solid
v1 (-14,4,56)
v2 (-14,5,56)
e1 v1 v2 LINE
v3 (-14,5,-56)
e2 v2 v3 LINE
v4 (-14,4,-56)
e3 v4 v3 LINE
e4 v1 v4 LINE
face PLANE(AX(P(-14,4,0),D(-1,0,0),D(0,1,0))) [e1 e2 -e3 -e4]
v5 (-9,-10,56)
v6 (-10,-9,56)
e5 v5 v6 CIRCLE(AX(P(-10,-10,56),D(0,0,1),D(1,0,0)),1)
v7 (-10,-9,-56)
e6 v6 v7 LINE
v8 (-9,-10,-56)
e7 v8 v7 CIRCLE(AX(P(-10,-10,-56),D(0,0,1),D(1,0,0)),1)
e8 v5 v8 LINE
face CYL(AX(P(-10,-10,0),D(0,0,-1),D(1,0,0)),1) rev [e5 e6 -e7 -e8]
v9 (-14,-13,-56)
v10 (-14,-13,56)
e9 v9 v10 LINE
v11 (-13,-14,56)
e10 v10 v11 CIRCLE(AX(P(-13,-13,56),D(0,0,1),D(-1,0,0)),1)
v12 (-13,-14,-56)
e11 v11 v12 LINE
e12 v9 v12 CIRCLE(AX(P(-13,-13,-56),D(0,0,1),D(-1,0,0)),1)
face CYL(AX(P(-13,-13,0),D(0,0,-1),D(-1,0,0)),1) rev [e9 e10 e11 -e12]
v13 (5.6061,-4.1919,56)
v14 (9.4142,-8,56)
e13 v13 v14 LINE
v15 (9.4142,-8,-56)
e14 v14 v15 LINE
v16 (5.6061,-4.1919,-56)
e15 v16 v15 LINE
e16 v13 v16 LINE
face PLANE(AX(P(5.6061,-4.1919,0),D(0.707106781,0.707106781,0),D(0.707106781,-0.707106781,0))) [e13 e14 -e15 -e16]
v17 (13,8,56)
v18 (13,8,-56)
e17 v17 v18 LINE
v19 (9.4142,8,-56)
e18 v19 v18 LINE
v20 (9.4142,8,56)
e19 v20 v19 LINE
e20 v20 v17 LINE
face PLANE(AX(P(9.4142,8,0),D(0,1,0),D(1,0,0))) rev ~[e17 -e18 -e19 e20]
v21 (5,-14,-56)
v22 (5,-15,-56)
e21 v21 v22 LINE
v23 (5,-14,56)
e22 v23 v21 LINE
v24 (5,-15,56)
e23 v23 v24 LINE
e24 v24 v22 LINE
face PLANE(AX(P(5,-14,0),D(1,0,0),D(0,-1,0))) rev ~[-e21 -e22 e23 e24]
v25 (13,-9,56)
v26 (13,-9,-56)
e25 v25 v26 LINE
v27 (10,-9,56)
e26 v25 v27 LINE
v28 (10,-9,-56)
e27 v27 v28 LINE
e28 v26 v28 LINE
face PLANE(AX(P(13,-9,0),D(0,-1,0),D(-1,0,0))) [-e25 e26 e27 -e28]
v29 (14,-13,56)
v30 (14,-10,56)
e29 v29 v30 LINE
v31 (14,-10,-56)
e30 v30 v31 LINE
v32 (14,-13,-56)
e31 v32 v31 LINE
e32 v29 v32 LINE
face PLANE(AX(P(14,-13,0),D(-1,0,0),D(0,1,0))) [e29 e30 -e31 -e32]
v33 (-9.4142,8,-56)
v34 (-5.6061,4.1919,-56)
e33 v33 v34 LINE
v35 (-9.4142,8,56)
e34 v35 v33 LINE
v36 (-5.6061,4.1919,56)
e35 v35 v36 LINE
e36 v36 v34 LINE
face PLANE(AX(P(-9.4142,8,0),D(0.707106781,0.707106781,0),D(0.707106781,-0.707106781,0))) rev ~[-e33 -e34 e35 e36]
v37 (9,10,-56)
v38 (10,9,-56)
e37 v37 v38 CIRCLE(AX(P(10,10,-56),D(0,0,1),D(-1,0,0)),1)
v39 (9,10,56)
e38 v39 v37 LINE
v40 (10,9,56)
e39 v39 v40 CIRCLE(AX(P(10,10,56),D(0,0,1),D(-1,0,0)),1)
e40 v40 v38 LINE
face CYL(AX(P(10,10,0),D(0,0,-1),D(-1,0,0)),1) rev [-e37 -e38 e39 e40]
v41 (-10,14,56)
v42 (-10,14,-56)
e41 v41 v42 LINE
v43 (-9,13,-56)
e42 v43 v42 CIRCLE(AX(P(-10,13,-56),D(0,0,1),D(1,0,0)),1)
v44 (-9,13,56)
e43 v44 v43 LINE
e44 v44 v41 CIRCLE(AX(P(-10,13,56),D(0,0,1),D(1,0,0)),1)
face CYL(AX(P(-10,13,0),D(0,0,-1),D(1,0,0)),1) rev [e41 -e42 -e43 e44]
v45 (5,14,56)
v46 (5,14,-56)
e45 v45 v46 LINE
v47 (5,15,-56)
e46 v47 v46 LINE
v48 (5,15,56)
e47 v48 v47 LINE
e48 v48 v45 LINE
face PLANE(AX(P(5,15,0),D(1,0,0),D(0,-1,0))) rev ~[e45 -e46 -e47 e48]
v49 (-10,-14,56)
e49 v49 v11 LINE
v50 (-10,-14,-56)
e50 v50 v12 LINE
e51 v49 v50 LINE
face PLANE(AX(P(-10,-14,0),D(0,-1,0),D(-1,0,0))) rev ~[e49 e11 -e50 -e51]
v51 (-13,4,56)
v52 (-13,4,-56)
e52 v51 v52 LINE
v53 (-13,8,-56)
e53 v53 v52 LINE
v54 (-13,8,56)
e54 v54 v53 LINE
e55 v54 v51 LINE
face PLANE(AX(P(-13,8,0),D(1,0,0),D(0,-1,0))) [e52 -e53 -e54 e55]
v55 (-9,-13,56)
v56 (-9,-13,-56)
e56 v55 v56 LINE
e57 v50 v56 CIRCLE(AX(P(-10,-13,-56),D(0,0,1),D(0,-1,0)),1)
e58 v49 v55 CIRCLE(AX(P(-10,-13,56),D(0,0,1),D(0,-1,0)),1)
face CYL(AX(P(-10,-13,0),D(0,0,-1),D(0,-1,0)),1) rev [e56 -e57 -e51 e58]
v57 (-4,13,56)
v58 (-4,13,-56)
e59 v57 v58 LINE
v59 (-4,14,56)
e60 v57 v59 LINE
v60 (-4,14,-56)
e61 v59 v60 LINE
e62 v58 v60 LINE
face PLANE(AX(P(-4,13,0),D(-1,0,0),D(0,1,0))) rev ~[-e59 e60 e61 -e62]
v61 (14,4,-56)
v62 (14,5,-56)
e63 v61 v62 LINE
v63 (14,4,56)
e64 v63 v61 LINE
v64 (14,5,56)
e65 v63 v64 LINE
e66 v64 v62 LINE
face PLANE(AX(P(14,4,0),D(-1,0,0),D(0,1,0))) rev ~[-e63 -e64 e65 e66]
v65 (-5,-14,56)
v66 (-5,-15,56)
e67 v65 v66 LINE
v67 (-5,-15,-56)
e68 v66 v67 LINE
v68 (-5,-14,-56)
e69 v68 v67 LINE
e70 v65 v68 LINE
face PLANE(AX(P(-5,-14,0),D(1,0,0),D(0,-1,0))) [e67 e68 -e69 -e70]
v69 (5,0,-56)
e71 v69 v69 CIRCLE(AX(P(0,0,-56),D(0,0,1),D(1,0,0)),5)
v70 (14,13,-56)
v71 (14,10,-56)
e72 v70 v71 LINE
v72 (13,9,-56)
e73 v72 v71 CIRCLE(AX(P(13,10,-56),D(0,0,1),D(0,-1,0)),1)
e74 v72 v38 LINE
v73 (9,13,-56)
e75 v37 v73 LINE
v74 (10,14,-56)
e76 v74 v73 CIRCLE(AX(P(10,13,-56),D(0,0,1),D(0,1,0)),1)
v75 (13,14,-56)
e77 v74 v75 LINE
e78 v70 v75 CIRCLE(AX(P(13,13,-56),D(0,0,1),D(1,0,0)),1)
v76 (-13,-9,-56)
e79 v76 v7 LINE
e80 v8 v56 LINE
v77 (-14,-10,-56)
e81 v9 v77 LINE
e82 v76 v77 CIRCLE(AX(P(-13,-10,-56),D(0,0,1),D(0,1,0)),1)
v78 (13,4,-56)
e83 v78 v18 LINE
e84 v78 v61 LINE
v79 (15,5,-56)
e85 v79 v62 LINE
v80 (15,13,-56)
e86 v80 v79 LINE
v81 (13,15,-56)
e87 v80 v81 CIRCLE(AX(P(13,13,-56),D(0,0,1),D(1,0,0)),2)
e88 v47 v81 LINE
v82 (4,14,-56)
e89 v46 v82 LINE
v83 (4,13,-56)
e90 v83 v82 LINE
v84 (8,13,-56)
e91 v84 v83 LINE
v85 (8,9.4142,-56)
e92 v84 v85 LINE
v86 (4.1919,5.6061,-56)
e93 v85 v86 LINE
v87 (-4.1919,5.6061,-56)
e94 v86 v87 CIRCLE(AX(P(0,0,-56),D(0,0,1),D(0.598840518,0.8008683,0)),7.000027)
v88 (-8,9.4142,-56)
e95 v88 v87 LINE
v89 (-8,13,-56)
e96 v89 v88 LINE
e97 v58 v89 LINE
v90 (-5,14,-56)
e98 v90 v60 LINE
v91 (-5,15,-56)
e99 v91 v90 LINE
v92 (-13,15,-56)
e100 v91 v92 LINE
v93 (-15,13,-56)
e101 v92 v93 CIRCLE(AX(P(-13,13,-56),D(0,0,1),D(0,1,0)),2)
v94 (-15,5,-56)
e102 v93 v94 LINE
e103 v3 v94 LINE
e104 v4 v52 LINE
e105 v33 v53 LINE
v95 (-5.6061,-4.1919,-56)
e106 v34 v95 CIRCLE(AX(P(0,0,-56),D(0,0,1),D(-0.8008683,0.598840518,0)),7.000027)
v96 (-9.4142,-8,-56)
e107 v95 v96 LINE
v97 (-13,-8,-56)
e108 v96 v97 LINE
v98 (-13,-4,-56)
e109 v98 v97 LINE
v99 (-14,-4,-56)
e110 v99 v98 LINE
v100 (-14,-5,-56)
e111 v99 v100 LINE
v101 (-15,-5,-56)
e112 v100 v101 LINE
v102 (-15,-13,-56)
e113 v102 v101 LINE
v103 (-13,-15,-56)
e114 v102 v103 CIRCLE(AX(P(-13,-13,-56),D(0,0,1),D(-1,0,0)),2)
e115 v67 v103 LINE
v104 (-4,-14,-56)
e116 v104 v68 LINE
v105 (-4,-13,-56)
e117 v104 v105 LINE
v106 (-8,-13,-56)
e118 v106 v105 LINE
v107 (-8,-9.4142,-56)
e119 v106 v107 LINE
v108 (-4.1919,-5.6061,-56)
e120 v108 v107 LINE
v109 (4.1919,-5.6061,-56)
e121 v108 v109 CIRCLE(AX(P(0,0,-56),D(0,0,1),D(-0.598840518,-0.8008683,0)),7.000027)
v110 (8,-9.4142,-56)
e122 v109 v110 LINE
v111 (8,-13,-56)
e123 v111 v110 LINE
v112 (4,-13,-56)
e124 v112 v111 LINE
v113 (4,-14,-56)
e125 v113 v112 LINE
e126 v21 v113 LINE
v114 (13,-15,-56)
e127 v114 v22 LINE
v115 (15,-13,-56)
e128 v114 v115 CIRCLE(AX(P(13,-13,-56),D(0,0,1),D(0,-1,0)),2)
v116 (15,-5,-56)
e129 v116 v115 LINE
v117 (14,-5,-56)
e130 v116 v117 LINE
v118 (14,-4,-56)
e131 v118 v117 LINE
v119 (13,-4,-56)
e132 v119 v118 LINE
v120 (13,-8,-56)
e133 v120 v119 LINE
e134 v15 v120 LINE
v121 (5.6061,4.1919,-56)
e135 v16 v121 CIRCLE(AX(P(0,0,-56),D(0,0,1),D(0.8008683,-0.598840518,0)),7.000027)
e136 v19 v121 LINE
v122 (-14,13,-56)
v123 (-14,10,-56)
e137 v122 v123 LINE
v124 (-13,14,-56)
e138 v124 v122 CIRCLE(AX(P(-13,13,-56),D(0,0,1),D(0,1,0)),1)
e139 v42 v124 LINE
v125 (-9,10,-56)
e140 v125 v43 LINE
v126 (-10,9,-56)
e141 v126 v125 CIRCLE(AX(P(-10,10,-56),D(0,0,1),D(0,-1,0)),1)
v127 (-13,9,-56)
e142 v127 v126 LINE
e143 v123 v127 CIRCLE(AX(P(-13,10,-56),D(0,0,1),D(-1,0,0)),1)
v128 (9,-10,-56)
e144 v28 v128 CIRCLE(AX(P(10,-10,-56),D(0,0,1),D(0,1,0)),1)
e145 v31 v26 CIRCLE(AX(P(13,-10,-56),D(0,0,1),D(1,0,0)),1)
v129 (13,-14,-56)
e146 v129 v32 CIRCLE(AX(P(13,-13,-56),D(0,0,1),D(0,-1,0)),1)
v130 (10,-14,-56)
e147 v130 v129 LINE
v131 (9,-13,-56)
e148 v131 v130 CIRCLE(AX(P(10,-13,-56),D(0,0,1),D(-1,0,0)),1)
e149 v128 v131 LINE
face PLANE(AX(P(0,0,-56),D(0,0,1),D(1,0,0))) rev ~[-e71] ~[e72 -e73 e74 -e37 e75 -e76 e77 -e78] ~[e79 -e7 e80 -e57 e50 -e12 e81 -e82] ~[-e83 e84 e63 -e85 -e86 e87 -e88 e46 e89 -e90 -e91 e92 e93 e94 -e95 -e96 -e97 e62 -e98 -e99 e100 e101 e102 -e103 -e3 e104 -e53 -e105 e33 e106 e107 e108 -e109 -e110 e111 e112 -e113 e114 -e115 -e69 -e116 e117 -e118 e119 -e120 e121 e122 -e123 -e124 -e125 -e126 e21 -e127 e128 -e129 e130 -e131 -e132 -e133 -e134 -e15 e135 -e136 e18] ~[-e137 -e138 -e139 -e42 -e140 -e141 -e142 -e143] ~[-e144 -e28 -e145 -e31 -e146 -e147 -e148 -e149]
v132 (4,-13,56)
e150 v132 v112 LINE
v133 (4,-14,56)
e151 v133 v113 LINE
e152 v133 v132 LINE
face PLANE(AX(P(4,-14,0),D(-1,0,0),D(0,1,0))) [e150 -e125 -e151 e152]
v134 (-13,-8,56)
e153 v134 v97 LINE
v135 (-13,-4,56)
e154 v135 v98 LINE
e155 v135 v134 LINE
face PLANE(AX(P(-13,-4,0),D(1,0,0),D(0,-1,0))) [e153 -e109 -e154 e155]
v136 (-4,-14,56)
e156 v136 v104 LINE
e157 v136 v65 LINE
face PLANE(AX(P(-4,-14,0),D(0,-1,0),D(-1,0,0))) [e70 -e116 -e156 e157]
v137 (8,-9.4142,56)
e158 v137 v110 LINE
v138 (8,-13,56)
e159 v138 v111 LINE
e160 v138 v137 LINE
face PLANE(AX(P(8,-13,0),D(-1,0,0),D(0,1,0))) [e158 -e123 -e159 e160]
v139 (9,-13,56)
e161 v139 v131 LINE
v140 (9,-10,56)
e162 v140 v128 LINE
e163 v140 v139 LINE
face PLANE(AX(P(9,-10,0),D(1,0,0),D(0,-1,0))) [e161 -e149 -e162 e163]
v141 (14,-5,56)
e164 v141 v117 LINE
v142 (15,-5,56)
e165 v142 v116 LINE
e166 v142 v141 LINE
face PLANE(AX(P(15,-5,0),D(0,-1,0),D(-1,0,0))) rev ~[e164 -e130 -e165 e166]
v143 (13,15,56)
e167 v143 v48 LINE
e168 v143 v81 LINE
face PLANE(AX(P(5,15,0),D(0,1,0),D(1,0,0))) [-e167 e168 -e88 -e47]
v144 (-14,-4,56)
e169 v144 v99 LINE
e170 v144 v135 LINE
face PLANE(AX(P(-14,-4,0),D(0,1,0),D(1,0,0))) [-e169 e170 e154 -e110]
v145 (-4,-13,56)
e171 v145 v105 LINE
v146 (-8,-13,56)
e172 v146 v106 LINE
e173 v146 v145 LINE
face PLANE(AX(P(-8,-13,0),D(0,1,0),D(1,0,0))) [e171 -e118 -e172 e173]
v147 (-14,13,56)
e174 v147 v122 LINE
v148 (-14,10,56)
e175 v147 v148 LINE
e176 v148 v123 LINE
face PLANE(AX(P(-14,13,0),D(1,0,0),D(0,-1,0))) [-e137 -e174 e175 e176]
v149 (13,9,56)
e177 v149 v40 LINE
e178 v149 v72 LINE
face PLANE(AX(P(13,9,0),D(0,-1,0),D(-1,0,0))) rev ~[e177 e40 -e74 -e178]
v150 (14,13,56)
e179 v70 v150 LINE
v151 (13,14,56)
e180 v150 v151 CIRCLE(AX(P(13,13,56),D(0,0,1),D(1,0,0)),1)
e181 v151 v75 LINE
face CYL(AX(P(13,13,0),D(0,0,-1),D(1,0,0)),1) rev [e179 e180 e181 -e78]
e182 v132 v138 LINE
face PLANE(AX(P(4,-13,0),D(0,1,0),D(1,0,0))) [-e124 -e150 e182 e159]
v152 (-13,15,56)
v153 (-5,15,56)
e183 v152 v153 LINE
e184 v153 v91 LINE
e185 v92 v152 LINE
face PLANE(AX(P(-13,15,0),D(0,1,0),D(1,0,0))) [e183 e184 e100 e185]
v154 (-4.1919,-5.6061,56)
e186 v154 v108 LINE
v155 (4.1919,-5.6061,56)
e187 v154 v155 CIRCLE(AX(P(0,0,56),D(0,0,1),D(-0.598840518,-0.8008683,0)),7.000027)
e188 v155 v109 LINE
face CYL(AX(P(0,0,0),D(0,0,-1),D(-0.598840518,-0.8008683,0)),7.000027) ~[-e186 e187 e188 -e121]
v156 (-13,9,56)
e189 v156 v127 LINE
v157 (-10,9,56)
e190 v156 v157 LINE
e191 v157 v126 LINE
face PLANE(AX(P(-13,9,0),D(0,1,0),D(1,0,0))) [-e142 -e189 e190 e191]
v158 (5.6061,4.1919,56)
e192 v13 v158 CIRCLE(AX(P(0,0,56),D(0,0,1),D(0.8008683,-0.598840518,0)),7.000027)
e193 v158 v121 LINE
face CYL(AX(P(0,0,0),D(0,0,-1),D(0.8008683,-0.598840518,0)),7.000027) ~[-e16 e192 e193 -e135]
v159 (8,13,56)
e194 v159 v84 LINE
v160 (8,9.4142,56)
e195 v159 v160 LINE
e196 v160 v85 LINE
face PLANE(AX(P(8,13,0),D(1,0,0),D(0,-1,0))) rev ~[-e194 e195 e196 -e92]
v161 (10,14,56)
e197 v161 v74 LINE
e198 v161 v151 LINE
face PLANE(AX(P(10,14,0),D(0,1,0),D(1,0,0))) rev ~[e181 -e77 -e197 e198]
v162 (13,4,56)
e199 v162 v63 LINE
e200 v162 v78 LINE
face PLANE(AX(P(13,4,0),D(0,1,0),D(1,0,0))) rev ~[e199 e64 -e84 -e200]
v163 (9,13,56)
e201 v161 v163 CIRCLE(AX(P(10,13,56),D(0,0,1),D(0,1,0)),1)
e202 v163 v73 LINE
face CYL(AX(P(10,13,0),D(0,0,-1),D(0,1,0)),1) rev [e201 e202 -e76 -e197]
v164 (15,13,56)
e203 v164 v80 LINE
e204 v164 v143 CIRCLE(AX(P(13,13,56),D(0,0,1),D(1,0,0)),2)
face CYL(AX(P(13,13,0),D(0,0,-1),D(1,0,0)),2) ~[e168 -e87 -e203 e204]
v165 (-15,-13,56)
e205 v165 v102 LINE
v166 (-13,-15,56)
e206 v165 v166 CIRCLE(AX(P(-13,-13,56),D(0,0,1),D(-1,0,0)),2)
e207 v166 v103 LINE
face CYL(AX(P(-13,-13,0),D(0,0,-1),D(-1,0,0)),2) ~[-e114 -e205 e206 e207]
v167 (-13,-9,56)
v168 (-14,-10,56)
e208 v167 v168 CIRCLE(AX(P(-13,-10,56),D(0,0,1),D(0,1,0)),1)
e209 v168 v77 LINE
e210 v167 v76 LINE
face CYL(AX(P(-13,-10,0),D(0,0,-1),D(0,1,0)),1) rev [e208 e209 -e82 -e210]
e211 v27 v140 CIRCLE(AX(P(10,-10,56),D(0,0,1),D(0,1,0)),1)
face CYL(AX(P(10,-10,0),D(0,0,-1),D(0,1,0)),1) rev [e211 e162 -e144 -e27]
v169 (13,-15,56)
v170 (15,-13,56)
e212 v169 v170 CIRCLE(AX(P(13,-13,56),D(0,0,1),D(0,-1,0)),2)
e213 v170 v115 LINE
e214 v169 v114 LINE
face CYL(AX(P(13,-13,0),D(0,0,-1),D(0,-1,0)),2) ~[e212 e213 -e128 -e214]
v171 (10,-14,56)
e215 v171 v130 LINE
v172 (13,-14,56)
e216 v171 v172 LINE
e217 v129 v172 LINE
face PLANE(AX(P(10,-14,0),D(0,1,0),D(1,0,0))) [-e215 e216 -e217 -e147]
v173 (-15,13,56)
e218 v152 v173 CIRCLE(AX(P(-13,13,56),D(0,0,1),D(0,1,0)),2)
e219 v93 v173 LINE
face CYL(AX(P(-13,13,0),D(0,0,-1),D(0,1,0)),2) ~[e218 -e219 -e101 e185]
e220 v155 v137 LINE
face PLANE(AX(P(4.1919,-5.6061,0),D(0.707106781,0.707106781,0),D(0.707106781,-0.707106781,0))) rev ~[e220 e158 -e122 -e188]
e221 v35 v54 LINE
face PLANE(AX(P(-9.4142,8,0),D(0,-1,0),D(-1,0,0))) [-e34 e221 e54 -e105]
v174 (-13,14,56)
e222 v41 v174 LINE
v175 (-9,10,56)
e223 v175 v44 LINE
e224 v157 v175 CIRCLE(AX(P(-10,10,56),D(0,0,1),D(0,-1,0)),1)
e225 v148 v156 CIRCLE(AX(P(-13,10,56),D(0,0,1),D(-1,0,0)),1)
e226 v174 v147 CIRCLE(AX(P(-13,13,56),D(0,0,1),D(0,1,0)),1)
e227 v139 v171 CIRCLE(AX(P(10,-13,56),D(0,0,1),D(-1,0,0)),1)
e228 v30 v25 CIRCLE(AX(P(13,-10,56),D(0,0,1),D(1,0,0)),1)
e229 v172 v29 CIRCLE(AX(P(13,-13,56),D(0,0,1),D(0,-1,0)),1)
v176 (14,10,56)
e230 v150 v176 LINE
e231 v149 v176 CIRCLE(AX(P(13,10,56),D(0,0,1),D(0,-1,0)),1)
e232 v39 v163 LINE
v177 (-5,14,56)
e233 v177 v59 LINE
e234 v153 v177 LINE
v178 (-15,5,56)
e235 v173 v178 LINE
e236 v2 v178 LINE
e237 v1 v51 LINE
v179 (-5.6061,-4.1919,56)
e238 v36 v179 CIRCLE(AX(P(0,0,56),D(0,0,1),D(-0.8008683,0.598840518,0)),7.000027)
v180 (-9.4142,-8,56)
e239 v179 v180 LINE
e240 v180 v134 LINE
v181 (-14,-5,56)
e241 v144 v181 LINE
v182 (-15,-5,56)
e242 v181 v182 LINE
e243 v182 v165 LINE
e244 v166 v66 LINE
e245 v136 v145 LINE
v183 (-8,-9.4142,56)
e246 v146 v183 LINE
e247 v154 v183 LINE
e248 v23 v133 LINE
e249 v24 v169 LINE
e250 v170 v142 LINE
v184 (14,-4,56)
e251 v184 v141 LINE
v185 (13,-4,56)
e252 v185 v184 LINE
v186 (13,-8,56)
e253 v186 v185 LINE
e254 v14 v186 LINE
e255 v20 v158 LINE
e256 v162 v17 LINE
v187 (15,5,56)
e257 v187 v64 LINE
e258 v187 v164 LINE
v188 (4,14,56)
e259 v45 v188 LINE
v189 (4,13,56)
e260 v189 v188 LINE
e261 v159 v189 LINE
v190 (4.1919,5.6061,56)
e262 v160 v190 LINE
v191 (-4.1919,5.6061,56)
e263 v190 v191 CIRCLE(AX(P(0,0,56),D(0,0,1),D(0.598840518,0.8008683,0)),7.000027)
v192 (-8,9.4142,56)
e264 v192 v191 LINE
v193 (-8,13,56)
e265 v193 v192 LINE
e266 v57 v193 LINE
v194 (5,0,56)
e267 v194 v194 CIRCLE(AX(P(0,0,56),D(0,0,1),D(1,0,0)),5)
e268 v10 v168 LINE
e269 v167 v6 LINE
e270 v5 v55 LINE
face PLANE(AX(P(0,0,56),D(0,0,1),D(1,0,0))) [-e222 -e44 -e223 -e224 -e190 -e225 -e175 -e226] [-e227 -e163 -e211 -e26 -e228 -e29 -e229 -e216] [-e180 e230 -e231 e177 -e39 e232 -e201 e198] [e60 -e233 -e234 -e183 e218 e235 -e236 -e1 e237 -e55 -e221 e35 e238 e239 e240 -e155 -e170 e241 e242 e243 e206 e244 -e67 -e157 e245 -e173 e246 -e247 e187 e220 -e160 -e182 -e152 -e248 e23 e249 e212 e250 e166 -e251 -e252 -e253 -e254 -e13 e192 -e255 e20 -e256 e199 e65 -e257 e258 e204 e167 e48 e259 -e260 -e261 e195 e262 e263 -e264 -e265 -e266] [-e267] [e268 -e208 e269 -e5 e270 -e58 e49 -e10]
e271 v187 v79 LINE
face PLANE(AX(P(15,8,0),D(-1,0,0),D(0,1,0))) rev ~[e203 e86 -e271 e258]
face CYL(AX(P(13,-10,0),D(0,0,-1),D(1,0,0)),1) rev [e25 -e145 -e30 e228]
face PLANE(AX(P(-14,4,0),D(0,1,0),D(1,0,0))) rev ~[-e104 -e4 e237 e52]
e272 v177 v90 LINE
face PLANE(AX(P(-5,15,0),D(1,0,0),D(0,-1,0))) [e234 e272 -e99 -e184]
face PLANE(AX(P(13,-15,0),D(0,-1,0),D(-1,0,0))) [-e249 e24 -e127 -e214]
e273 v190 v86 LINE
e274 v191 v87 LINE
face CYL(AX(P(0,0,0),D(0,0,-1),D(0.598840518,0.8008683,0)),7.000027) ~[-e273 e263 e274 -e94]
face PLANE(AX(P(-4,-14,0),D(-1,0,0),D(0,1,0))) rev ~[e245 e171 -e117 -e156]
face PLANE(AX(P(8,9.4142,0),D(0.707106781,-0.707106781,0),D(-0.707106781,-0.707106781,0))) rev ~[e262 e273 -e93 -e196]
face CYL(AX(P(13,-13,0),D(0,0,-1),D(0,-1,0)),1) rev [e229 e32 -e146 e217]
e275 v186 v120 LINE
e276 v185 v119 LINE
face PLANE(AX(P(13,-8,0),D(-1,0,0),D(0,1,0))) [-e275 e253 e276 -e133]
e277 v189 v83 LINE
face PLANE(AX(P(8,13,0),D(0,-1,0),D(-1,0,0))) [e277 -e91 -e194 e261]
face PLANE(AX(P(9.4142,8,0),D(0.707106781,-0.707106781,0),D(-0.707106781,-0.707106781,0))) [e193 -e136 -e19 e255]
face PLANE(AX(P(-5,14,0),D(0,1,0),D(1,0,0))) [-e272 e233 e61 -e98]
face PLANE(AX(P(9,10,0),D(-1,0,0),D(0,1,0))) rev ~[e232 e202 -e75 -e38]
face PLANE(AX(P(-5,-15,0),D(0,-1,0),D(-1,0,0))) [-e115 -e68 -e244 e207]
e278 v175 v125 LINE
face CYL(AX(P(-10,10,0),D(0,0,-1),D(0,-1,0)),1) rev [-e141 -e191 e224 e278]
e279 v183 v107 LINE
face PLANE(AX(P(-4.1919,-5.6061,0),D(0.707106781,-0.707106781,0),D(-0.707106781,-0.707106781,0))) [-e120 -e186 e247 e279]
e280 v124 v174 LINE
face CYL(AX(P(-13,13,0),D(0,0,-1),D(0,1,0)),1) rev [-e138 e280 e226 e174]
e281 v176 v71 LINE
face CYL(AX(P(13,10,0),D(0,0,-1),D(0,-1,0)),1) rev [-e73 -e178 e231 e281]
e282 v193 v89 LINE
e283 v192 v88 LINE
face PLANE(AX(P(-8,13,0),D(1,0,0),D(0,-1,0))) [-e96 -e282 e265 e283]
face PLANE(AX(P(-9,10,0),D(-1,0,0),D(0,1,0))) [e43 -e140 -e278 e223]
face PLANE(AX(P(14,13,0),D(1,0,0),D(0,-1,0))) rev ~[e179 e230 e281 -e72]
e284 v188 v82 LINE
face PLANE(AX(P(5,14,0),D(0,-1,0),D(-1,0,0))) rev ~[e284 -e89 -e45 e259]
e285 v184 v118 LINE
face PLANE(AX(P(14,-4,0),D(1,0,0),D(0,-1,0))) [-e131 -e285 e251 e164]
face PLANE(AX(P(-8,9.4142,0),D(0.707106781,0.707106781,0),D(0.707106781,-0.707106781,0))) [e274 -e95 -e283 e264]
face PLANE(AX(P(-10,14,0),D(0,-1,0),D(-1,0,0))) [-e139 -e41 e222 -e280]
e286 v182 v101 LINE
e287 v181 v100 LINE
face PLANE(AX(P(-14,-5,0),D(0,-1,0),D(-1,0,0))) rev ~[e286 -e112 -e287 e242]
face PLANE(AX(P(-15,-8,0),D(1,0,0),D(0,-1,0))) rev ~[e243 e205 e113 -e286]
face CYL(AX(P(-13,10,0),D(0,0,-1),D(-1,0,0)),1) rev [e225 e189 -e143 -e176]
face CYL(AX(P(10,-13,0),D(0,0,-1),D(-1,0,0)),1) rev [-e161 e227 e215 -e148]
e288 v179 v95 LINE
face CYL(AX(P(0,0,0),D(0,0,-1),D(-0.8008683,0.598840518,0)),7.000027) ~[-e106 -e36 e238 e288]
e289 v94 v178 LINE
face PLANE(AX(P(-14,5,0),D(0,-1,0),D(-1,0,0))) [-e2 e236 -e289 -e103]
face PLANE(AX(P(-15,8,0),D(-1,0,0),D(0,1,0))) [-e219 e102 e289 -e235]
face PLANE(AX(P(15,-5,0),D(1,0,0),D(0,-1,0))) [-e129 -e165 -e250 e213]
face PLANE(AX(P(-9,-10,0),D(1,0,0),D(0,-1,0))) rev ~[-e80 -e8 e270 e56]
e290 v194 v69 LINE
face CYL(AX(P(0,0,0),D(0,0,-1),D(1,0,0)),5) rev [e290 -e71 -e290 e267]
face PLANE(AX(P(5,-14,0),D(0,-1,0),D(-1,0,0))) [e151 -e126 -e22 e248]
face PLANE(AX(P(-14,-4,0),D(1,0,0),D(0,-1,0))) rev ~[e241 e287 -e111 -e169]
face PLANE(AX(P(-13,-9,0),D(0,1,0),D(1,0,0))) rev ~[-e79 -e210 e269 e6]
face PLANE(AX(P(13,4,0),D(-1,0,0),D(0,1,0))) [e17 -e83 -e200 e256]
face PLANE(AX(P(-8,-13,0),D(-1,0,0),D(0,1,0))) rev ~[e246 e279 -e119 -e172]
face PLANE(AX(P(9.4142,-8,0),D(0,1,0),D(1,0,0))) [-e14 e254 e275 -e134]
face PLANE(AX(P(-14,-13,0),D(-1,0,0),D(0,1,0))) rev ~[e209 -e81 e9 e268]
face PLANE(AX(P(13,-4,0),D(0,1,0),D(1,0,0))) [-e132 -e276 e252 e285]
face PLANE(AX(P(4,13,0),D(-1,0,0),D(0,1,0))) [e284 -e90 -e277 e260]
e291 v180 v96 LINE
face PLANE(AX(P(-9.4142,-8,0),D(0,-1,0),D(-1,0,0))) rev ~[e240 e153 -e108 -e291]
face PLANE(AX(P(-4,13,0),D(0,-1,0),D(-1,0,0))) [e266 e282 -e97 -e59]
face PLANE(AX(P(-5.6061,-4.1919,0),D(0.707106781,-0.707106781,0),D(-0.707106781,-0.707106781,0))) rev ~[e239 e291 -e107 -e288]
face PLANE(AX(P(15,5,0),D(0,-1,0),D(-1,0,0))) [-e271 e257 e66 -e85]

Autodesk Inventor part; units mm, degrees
ref_plane "YZ Plane" through (0, 0, 0) normal (1, 0, 0) x (0, 1, 0)
ref_plane "XZ Plane" through (0, 0, 0) normal (0, 1, 0) x (-1, 0, 0)
ref_plane "XY Plane" through (0, 0, 0) normal (0, 0, 1) x (1, 0, 0)
sketch "Sketch1" plane through (0, 0, 0) normal (0, 0, 1) x (1, 0, 0)
  circle A0 centre (0, 0) radius 5
  arc A1 (-13, 15) -> (-15, 13) centre (-13, 13) ccw
  arc A2 (-15, -13) -> (-13, -15) centre (-13, -13) ccw
  arc A3 (13, -15) -> (15, -13) centre (13, -13) ccw
  arc A4 (15, 13) -> (13, 15) centre (13, 13) ccw
  arc A5 (-13, 14) -> (-14, 13) centre (-13, 13) ccw
  arc A6 (-14, -13) -> (-13, -14) centre (-13, -13) ccw
  arc A7 (13, -14) -> (14, -13) centre (13, -13) ccw
  arc A8 (14, 13) -> (13, 14) centre (13, 13) ccw
  line L0 (14, -14) -> (-14, 14) construction
  line L1 (-14, -14) -> (14, 14) construction
  line L2 (15, -15) -> (-15, 15) construction
  line L3 (-15, -15) -> (15, 15) construction
  line L4 (-13, 15) -> (-8, 15)
  line L5 (-8, 13) -> (-8, 8) construction
  line L6 (-9.4142, 8) -> (-13, 8)
  line L7 (-15, 8) -> (-15, 13)
  line L8 (-13, -15) -> (-8, -15)
  line L9 (-8, -13) -> (-8, -9.4142)
  line L10 (-9.4142, -8) -> (-13, -8)
  line L11 (-15, -8) -> (-15, -13)
  line L12 (13, -15) -> (8, -15)
  line L13 (8, -13) -> (8, -9.4142)
  line L14 (9.4142, -8) -> (13, -8)
  line L15 (15, -8) -> (15, -13)
  line L16 (13, 15) -> (8, 15)
  line L17 (8, 13) -> (8, 9.4142)
  line L18 (9.4142, 8) -> (13, 8)
  line L19 (15, 8) -> (15, 13)
  line L20 (-13, 9) -> (-10, 9)
  line L21 (-9, 10) -> (-9, 13)
  line L22 (-10, 14) -> (-13, 14)
  line L23 (-14, 13) -> (-14, 10)
  line L24 (13, 9) -> (10, 9)
  line L25 (9, 10) -> (9, 13)
  line L26 (10, 14) -> (13, 14)
  line L27 (14, 13) -> (14, 10)
  line L28 (13, -9) -> (10, -9)
  line L29 (9, -10) -> (9, -13)
  line L30 (10, -14) -> (13, -14)
  line L31 (14, -13) -> (14, -10)
  line L32 (-13, -9) -> (-10, -9)
  line L33 (-9, -10) -> (-9, -13)
  line L34 (-10, -14) -> (-13, -14)
  line L35 (-14, -13) -> (-14, -10)
  line L36 (-14, 13) -> (-14, 10)
  line L37 (-14, -10) -> (-14, -13)
  line L38 (-14, -13) -> (-14, -10)
  line L39 (-14, 10) -> (-14, 13)
  line L40 (13, -15) -> (5, -15)
  line L41 (-5, -15) -> (-13, -15)
  line L42 (13, -15) -> (5, -15) construction
  line L43 (0, -15) -> (-13, -15) construction
  line L44 (4, -13) -> (8, -13)
  line L45 (-8, -13) -> (-4, -13)
  line L46 (10, -9) -> (13, -9)
  line L47 (14, -10) -> (14, -13)
  line L48 (13, -14) -> (10, -14)
  line L49 (9, -13) -> (9, -10)
  line L50 (5, -14) -> (5, -15)
  line L51 (13, -14) -> (10, -14)
  line L52 (5, -14) -> (4, -14)
  line L53 (4, -14) -> (5, -14)
  line L54 (10, -14) -> (13, -14)
  line L55 (-4, -14) -> (-5, -14)
  line L56 (-10, -14) -> (-13, -14)
  line L57 (-13, -14) -> (-10, -14)
  line L58 (-5, -14) -> (-4, -14)
  line L59 (14, -13) -> (14, -10)
  line L60 (14, 10) -> (14, 13)
  line L61 (14, 13) -> (14, 10)
  line L62 (14, -10) -> (14, -13)
  line L63 (-5, -14) -> (-5, -15)
  line L64 (10, 14) -> (13, 14)
  line L65 (13, 14) -> (10, 14)
  line L66 (-10, 14) -> (-13, 14)
  line L67 (-13, 14) -> (-10, 14)
  line L68 (-5, 15) -> (-5, 14)
  line L69 (-13, 15) -> (-5, 15)
  line L70 (5, 15) -> (13, 15)
  line L71 (-15, 15) -> (-5, 15) construction
  line L72 (5, 15) -> (15, 15) construction
  line L73 (5, 15) -> (5, 14)
  line L74 (8, 13) -> (4, 13)
  line L75 (5, 14) -> (4, 14)
  line L76 (-5, 14) -> (-4, 14)
  line L77 (4, 14) -> (5, 14)
  line L78 (-4, 13) -> (-8, 13)
  line L79 (-4, 14) -> (-5, 14)
  line L80 (4, 13) -> (4, 14)
  line L81 (-4, 13) -> (-4, 14)
  line L82 (-4, -14) -> (-4, -13)
  line L83 (4, -14) -> (4, -13)
  line L84 (-8, 9.4142) -> (-4.1919, 5.6061)
  line L85 (8, 9.4142) -> (4.1919, 5.6061)
  line L86 (9.4142, 8) -> (5.6061, 4.1919)
  line L87 (5.6061, -4.1919) -> (9.4142, -8)
  line L88 (4.1919, -5.6061) -> (8, -9.4142)
  line L89 (-4.1919, -5.6061) -> (-8, -9.4142)
  line L90 (-5.6061, -4.1919) -> (-9.4142, -8)
  line L91 (-9.4142, 8) -> (-5.6061, 4.1919)
  arc A9 (4.1919, 5.6061) -> (-4.1919, 5.6061) centre (0, 0) ccw
  arc A10 (5.6061, -4.1919) -> (5.6061, 4.1919) centre (0, 0) ccw
  arc A11 (-5.6061, 4.1919) -> (-5.6061, -4.1919) centre (0, 0) ccw
  arc A12 (-4.1919, -5.6061) -> (4.1919, -5.6061) centre (0, 0) ccw
  line L92 (-8, 13) -> (-8, 9.4142)
  line L93 (-15, -13) -> (-15, -5) construction
  line L94 (-15, -13) -> (-15, -5)
  line L95 (-15, 5) -> (-15, 13)
  line L96 (15, -5) -> (15, -13) construction
  line L97 (15, 13) -> (15, 5)
  line L98 (15, -5) -> (15, -13)
  line L99 (-14, -4) -> (-14, -5)
  line L100 (14, -4) -> (14, -5)
  line L101 (14, 4) -> (14, 5)
  line L102 (-14, 4) -> (-14, 5)
  line L103 (-13, 8) -> (-13, 4)
  line L104 (13, 4) -> (13, 8)
  line L105 (13, -8) -> (13, -4)
  line L106 (-13, -4) -> (-13, -8)
  line L107 (-14, -5) -> (-15, -5)
  line L108 (15, -5) -> (14, -5)
  line L109 (15, 5) -> (14, 5)
  line L110 (-14, 5) -> (-15, 5)
  line L111 (13, 4) -> (14, 4)
  line L112 (-14, 4) -> (-13, 4)
  line L113 (-14, -4) -> (-13, -4)
  line L114 (13, -4) -> (14, -4)
  arc A13 (-13, -9) -> (-14, -10) centre (-13, -10) ccw
  arc A14 (-9, -10) -> (-10, -9) centre (-10, -10) ccw
  arc A15 (-10, -14) -> (-9, -13) centre (-10, -13) ccw
  arc A16 (10, -9) -> (9, -10) centre (10, -10) ccw
  arc A17 (9, -13) -> (10, -14) centre (10, -13) ccw
  arc A18 (14, -10) -> (13, -9) centre (13, -10) ccw
  arc A19 (10, 14) -> (9, 13) centre (10, 13) ccw
  arc A20 (9, 10) -> (10, 9) centre (10, 10) ccw
  arc A21 (13, 9) -> (14, 10) centre (13, 10) ccw
  arc A22 (-9, 13) -> (-10, 14) centre (-10, 13) ccw
  arc A23 (-10, 9) -> (-9, 10) centre (-10, 10) ccw
  arc A24 (-14, 10) -> (-13, 9) centre (-13, 10) ccw
  point P0 (15, -15)
  point P1 (-5.5858, -7)
  dimension "d0" = 30
  dimension "d1" = 30
  dimension "d2" = 10
  dimension "d4" = 2
  dimension "d11" = 28
  dimension "d12" = 7
  dimension "d13" = 7
  dimension "d15" = 1
  dimension "d16" = 1
  dimension "d17" = 1
  dimension "d18" = 1
  dimension "d19" = 5
  dimension "d23" = 30
  dimension "d27" = 1
  dimension "d30" = 3.5858
  dimension "d31" = 2
  dimension "d32" = 16
  dimension "d33" = 8
  dimension "d34" = 6
  dimension "d35" = 5.5858
extrude "Extrusion1" add sketch "Sketch1" along normal mid plane 112
equation "\"d1\" = d0"
properties part number "3030T-slot(hor)" material "Aluminum 6061"
